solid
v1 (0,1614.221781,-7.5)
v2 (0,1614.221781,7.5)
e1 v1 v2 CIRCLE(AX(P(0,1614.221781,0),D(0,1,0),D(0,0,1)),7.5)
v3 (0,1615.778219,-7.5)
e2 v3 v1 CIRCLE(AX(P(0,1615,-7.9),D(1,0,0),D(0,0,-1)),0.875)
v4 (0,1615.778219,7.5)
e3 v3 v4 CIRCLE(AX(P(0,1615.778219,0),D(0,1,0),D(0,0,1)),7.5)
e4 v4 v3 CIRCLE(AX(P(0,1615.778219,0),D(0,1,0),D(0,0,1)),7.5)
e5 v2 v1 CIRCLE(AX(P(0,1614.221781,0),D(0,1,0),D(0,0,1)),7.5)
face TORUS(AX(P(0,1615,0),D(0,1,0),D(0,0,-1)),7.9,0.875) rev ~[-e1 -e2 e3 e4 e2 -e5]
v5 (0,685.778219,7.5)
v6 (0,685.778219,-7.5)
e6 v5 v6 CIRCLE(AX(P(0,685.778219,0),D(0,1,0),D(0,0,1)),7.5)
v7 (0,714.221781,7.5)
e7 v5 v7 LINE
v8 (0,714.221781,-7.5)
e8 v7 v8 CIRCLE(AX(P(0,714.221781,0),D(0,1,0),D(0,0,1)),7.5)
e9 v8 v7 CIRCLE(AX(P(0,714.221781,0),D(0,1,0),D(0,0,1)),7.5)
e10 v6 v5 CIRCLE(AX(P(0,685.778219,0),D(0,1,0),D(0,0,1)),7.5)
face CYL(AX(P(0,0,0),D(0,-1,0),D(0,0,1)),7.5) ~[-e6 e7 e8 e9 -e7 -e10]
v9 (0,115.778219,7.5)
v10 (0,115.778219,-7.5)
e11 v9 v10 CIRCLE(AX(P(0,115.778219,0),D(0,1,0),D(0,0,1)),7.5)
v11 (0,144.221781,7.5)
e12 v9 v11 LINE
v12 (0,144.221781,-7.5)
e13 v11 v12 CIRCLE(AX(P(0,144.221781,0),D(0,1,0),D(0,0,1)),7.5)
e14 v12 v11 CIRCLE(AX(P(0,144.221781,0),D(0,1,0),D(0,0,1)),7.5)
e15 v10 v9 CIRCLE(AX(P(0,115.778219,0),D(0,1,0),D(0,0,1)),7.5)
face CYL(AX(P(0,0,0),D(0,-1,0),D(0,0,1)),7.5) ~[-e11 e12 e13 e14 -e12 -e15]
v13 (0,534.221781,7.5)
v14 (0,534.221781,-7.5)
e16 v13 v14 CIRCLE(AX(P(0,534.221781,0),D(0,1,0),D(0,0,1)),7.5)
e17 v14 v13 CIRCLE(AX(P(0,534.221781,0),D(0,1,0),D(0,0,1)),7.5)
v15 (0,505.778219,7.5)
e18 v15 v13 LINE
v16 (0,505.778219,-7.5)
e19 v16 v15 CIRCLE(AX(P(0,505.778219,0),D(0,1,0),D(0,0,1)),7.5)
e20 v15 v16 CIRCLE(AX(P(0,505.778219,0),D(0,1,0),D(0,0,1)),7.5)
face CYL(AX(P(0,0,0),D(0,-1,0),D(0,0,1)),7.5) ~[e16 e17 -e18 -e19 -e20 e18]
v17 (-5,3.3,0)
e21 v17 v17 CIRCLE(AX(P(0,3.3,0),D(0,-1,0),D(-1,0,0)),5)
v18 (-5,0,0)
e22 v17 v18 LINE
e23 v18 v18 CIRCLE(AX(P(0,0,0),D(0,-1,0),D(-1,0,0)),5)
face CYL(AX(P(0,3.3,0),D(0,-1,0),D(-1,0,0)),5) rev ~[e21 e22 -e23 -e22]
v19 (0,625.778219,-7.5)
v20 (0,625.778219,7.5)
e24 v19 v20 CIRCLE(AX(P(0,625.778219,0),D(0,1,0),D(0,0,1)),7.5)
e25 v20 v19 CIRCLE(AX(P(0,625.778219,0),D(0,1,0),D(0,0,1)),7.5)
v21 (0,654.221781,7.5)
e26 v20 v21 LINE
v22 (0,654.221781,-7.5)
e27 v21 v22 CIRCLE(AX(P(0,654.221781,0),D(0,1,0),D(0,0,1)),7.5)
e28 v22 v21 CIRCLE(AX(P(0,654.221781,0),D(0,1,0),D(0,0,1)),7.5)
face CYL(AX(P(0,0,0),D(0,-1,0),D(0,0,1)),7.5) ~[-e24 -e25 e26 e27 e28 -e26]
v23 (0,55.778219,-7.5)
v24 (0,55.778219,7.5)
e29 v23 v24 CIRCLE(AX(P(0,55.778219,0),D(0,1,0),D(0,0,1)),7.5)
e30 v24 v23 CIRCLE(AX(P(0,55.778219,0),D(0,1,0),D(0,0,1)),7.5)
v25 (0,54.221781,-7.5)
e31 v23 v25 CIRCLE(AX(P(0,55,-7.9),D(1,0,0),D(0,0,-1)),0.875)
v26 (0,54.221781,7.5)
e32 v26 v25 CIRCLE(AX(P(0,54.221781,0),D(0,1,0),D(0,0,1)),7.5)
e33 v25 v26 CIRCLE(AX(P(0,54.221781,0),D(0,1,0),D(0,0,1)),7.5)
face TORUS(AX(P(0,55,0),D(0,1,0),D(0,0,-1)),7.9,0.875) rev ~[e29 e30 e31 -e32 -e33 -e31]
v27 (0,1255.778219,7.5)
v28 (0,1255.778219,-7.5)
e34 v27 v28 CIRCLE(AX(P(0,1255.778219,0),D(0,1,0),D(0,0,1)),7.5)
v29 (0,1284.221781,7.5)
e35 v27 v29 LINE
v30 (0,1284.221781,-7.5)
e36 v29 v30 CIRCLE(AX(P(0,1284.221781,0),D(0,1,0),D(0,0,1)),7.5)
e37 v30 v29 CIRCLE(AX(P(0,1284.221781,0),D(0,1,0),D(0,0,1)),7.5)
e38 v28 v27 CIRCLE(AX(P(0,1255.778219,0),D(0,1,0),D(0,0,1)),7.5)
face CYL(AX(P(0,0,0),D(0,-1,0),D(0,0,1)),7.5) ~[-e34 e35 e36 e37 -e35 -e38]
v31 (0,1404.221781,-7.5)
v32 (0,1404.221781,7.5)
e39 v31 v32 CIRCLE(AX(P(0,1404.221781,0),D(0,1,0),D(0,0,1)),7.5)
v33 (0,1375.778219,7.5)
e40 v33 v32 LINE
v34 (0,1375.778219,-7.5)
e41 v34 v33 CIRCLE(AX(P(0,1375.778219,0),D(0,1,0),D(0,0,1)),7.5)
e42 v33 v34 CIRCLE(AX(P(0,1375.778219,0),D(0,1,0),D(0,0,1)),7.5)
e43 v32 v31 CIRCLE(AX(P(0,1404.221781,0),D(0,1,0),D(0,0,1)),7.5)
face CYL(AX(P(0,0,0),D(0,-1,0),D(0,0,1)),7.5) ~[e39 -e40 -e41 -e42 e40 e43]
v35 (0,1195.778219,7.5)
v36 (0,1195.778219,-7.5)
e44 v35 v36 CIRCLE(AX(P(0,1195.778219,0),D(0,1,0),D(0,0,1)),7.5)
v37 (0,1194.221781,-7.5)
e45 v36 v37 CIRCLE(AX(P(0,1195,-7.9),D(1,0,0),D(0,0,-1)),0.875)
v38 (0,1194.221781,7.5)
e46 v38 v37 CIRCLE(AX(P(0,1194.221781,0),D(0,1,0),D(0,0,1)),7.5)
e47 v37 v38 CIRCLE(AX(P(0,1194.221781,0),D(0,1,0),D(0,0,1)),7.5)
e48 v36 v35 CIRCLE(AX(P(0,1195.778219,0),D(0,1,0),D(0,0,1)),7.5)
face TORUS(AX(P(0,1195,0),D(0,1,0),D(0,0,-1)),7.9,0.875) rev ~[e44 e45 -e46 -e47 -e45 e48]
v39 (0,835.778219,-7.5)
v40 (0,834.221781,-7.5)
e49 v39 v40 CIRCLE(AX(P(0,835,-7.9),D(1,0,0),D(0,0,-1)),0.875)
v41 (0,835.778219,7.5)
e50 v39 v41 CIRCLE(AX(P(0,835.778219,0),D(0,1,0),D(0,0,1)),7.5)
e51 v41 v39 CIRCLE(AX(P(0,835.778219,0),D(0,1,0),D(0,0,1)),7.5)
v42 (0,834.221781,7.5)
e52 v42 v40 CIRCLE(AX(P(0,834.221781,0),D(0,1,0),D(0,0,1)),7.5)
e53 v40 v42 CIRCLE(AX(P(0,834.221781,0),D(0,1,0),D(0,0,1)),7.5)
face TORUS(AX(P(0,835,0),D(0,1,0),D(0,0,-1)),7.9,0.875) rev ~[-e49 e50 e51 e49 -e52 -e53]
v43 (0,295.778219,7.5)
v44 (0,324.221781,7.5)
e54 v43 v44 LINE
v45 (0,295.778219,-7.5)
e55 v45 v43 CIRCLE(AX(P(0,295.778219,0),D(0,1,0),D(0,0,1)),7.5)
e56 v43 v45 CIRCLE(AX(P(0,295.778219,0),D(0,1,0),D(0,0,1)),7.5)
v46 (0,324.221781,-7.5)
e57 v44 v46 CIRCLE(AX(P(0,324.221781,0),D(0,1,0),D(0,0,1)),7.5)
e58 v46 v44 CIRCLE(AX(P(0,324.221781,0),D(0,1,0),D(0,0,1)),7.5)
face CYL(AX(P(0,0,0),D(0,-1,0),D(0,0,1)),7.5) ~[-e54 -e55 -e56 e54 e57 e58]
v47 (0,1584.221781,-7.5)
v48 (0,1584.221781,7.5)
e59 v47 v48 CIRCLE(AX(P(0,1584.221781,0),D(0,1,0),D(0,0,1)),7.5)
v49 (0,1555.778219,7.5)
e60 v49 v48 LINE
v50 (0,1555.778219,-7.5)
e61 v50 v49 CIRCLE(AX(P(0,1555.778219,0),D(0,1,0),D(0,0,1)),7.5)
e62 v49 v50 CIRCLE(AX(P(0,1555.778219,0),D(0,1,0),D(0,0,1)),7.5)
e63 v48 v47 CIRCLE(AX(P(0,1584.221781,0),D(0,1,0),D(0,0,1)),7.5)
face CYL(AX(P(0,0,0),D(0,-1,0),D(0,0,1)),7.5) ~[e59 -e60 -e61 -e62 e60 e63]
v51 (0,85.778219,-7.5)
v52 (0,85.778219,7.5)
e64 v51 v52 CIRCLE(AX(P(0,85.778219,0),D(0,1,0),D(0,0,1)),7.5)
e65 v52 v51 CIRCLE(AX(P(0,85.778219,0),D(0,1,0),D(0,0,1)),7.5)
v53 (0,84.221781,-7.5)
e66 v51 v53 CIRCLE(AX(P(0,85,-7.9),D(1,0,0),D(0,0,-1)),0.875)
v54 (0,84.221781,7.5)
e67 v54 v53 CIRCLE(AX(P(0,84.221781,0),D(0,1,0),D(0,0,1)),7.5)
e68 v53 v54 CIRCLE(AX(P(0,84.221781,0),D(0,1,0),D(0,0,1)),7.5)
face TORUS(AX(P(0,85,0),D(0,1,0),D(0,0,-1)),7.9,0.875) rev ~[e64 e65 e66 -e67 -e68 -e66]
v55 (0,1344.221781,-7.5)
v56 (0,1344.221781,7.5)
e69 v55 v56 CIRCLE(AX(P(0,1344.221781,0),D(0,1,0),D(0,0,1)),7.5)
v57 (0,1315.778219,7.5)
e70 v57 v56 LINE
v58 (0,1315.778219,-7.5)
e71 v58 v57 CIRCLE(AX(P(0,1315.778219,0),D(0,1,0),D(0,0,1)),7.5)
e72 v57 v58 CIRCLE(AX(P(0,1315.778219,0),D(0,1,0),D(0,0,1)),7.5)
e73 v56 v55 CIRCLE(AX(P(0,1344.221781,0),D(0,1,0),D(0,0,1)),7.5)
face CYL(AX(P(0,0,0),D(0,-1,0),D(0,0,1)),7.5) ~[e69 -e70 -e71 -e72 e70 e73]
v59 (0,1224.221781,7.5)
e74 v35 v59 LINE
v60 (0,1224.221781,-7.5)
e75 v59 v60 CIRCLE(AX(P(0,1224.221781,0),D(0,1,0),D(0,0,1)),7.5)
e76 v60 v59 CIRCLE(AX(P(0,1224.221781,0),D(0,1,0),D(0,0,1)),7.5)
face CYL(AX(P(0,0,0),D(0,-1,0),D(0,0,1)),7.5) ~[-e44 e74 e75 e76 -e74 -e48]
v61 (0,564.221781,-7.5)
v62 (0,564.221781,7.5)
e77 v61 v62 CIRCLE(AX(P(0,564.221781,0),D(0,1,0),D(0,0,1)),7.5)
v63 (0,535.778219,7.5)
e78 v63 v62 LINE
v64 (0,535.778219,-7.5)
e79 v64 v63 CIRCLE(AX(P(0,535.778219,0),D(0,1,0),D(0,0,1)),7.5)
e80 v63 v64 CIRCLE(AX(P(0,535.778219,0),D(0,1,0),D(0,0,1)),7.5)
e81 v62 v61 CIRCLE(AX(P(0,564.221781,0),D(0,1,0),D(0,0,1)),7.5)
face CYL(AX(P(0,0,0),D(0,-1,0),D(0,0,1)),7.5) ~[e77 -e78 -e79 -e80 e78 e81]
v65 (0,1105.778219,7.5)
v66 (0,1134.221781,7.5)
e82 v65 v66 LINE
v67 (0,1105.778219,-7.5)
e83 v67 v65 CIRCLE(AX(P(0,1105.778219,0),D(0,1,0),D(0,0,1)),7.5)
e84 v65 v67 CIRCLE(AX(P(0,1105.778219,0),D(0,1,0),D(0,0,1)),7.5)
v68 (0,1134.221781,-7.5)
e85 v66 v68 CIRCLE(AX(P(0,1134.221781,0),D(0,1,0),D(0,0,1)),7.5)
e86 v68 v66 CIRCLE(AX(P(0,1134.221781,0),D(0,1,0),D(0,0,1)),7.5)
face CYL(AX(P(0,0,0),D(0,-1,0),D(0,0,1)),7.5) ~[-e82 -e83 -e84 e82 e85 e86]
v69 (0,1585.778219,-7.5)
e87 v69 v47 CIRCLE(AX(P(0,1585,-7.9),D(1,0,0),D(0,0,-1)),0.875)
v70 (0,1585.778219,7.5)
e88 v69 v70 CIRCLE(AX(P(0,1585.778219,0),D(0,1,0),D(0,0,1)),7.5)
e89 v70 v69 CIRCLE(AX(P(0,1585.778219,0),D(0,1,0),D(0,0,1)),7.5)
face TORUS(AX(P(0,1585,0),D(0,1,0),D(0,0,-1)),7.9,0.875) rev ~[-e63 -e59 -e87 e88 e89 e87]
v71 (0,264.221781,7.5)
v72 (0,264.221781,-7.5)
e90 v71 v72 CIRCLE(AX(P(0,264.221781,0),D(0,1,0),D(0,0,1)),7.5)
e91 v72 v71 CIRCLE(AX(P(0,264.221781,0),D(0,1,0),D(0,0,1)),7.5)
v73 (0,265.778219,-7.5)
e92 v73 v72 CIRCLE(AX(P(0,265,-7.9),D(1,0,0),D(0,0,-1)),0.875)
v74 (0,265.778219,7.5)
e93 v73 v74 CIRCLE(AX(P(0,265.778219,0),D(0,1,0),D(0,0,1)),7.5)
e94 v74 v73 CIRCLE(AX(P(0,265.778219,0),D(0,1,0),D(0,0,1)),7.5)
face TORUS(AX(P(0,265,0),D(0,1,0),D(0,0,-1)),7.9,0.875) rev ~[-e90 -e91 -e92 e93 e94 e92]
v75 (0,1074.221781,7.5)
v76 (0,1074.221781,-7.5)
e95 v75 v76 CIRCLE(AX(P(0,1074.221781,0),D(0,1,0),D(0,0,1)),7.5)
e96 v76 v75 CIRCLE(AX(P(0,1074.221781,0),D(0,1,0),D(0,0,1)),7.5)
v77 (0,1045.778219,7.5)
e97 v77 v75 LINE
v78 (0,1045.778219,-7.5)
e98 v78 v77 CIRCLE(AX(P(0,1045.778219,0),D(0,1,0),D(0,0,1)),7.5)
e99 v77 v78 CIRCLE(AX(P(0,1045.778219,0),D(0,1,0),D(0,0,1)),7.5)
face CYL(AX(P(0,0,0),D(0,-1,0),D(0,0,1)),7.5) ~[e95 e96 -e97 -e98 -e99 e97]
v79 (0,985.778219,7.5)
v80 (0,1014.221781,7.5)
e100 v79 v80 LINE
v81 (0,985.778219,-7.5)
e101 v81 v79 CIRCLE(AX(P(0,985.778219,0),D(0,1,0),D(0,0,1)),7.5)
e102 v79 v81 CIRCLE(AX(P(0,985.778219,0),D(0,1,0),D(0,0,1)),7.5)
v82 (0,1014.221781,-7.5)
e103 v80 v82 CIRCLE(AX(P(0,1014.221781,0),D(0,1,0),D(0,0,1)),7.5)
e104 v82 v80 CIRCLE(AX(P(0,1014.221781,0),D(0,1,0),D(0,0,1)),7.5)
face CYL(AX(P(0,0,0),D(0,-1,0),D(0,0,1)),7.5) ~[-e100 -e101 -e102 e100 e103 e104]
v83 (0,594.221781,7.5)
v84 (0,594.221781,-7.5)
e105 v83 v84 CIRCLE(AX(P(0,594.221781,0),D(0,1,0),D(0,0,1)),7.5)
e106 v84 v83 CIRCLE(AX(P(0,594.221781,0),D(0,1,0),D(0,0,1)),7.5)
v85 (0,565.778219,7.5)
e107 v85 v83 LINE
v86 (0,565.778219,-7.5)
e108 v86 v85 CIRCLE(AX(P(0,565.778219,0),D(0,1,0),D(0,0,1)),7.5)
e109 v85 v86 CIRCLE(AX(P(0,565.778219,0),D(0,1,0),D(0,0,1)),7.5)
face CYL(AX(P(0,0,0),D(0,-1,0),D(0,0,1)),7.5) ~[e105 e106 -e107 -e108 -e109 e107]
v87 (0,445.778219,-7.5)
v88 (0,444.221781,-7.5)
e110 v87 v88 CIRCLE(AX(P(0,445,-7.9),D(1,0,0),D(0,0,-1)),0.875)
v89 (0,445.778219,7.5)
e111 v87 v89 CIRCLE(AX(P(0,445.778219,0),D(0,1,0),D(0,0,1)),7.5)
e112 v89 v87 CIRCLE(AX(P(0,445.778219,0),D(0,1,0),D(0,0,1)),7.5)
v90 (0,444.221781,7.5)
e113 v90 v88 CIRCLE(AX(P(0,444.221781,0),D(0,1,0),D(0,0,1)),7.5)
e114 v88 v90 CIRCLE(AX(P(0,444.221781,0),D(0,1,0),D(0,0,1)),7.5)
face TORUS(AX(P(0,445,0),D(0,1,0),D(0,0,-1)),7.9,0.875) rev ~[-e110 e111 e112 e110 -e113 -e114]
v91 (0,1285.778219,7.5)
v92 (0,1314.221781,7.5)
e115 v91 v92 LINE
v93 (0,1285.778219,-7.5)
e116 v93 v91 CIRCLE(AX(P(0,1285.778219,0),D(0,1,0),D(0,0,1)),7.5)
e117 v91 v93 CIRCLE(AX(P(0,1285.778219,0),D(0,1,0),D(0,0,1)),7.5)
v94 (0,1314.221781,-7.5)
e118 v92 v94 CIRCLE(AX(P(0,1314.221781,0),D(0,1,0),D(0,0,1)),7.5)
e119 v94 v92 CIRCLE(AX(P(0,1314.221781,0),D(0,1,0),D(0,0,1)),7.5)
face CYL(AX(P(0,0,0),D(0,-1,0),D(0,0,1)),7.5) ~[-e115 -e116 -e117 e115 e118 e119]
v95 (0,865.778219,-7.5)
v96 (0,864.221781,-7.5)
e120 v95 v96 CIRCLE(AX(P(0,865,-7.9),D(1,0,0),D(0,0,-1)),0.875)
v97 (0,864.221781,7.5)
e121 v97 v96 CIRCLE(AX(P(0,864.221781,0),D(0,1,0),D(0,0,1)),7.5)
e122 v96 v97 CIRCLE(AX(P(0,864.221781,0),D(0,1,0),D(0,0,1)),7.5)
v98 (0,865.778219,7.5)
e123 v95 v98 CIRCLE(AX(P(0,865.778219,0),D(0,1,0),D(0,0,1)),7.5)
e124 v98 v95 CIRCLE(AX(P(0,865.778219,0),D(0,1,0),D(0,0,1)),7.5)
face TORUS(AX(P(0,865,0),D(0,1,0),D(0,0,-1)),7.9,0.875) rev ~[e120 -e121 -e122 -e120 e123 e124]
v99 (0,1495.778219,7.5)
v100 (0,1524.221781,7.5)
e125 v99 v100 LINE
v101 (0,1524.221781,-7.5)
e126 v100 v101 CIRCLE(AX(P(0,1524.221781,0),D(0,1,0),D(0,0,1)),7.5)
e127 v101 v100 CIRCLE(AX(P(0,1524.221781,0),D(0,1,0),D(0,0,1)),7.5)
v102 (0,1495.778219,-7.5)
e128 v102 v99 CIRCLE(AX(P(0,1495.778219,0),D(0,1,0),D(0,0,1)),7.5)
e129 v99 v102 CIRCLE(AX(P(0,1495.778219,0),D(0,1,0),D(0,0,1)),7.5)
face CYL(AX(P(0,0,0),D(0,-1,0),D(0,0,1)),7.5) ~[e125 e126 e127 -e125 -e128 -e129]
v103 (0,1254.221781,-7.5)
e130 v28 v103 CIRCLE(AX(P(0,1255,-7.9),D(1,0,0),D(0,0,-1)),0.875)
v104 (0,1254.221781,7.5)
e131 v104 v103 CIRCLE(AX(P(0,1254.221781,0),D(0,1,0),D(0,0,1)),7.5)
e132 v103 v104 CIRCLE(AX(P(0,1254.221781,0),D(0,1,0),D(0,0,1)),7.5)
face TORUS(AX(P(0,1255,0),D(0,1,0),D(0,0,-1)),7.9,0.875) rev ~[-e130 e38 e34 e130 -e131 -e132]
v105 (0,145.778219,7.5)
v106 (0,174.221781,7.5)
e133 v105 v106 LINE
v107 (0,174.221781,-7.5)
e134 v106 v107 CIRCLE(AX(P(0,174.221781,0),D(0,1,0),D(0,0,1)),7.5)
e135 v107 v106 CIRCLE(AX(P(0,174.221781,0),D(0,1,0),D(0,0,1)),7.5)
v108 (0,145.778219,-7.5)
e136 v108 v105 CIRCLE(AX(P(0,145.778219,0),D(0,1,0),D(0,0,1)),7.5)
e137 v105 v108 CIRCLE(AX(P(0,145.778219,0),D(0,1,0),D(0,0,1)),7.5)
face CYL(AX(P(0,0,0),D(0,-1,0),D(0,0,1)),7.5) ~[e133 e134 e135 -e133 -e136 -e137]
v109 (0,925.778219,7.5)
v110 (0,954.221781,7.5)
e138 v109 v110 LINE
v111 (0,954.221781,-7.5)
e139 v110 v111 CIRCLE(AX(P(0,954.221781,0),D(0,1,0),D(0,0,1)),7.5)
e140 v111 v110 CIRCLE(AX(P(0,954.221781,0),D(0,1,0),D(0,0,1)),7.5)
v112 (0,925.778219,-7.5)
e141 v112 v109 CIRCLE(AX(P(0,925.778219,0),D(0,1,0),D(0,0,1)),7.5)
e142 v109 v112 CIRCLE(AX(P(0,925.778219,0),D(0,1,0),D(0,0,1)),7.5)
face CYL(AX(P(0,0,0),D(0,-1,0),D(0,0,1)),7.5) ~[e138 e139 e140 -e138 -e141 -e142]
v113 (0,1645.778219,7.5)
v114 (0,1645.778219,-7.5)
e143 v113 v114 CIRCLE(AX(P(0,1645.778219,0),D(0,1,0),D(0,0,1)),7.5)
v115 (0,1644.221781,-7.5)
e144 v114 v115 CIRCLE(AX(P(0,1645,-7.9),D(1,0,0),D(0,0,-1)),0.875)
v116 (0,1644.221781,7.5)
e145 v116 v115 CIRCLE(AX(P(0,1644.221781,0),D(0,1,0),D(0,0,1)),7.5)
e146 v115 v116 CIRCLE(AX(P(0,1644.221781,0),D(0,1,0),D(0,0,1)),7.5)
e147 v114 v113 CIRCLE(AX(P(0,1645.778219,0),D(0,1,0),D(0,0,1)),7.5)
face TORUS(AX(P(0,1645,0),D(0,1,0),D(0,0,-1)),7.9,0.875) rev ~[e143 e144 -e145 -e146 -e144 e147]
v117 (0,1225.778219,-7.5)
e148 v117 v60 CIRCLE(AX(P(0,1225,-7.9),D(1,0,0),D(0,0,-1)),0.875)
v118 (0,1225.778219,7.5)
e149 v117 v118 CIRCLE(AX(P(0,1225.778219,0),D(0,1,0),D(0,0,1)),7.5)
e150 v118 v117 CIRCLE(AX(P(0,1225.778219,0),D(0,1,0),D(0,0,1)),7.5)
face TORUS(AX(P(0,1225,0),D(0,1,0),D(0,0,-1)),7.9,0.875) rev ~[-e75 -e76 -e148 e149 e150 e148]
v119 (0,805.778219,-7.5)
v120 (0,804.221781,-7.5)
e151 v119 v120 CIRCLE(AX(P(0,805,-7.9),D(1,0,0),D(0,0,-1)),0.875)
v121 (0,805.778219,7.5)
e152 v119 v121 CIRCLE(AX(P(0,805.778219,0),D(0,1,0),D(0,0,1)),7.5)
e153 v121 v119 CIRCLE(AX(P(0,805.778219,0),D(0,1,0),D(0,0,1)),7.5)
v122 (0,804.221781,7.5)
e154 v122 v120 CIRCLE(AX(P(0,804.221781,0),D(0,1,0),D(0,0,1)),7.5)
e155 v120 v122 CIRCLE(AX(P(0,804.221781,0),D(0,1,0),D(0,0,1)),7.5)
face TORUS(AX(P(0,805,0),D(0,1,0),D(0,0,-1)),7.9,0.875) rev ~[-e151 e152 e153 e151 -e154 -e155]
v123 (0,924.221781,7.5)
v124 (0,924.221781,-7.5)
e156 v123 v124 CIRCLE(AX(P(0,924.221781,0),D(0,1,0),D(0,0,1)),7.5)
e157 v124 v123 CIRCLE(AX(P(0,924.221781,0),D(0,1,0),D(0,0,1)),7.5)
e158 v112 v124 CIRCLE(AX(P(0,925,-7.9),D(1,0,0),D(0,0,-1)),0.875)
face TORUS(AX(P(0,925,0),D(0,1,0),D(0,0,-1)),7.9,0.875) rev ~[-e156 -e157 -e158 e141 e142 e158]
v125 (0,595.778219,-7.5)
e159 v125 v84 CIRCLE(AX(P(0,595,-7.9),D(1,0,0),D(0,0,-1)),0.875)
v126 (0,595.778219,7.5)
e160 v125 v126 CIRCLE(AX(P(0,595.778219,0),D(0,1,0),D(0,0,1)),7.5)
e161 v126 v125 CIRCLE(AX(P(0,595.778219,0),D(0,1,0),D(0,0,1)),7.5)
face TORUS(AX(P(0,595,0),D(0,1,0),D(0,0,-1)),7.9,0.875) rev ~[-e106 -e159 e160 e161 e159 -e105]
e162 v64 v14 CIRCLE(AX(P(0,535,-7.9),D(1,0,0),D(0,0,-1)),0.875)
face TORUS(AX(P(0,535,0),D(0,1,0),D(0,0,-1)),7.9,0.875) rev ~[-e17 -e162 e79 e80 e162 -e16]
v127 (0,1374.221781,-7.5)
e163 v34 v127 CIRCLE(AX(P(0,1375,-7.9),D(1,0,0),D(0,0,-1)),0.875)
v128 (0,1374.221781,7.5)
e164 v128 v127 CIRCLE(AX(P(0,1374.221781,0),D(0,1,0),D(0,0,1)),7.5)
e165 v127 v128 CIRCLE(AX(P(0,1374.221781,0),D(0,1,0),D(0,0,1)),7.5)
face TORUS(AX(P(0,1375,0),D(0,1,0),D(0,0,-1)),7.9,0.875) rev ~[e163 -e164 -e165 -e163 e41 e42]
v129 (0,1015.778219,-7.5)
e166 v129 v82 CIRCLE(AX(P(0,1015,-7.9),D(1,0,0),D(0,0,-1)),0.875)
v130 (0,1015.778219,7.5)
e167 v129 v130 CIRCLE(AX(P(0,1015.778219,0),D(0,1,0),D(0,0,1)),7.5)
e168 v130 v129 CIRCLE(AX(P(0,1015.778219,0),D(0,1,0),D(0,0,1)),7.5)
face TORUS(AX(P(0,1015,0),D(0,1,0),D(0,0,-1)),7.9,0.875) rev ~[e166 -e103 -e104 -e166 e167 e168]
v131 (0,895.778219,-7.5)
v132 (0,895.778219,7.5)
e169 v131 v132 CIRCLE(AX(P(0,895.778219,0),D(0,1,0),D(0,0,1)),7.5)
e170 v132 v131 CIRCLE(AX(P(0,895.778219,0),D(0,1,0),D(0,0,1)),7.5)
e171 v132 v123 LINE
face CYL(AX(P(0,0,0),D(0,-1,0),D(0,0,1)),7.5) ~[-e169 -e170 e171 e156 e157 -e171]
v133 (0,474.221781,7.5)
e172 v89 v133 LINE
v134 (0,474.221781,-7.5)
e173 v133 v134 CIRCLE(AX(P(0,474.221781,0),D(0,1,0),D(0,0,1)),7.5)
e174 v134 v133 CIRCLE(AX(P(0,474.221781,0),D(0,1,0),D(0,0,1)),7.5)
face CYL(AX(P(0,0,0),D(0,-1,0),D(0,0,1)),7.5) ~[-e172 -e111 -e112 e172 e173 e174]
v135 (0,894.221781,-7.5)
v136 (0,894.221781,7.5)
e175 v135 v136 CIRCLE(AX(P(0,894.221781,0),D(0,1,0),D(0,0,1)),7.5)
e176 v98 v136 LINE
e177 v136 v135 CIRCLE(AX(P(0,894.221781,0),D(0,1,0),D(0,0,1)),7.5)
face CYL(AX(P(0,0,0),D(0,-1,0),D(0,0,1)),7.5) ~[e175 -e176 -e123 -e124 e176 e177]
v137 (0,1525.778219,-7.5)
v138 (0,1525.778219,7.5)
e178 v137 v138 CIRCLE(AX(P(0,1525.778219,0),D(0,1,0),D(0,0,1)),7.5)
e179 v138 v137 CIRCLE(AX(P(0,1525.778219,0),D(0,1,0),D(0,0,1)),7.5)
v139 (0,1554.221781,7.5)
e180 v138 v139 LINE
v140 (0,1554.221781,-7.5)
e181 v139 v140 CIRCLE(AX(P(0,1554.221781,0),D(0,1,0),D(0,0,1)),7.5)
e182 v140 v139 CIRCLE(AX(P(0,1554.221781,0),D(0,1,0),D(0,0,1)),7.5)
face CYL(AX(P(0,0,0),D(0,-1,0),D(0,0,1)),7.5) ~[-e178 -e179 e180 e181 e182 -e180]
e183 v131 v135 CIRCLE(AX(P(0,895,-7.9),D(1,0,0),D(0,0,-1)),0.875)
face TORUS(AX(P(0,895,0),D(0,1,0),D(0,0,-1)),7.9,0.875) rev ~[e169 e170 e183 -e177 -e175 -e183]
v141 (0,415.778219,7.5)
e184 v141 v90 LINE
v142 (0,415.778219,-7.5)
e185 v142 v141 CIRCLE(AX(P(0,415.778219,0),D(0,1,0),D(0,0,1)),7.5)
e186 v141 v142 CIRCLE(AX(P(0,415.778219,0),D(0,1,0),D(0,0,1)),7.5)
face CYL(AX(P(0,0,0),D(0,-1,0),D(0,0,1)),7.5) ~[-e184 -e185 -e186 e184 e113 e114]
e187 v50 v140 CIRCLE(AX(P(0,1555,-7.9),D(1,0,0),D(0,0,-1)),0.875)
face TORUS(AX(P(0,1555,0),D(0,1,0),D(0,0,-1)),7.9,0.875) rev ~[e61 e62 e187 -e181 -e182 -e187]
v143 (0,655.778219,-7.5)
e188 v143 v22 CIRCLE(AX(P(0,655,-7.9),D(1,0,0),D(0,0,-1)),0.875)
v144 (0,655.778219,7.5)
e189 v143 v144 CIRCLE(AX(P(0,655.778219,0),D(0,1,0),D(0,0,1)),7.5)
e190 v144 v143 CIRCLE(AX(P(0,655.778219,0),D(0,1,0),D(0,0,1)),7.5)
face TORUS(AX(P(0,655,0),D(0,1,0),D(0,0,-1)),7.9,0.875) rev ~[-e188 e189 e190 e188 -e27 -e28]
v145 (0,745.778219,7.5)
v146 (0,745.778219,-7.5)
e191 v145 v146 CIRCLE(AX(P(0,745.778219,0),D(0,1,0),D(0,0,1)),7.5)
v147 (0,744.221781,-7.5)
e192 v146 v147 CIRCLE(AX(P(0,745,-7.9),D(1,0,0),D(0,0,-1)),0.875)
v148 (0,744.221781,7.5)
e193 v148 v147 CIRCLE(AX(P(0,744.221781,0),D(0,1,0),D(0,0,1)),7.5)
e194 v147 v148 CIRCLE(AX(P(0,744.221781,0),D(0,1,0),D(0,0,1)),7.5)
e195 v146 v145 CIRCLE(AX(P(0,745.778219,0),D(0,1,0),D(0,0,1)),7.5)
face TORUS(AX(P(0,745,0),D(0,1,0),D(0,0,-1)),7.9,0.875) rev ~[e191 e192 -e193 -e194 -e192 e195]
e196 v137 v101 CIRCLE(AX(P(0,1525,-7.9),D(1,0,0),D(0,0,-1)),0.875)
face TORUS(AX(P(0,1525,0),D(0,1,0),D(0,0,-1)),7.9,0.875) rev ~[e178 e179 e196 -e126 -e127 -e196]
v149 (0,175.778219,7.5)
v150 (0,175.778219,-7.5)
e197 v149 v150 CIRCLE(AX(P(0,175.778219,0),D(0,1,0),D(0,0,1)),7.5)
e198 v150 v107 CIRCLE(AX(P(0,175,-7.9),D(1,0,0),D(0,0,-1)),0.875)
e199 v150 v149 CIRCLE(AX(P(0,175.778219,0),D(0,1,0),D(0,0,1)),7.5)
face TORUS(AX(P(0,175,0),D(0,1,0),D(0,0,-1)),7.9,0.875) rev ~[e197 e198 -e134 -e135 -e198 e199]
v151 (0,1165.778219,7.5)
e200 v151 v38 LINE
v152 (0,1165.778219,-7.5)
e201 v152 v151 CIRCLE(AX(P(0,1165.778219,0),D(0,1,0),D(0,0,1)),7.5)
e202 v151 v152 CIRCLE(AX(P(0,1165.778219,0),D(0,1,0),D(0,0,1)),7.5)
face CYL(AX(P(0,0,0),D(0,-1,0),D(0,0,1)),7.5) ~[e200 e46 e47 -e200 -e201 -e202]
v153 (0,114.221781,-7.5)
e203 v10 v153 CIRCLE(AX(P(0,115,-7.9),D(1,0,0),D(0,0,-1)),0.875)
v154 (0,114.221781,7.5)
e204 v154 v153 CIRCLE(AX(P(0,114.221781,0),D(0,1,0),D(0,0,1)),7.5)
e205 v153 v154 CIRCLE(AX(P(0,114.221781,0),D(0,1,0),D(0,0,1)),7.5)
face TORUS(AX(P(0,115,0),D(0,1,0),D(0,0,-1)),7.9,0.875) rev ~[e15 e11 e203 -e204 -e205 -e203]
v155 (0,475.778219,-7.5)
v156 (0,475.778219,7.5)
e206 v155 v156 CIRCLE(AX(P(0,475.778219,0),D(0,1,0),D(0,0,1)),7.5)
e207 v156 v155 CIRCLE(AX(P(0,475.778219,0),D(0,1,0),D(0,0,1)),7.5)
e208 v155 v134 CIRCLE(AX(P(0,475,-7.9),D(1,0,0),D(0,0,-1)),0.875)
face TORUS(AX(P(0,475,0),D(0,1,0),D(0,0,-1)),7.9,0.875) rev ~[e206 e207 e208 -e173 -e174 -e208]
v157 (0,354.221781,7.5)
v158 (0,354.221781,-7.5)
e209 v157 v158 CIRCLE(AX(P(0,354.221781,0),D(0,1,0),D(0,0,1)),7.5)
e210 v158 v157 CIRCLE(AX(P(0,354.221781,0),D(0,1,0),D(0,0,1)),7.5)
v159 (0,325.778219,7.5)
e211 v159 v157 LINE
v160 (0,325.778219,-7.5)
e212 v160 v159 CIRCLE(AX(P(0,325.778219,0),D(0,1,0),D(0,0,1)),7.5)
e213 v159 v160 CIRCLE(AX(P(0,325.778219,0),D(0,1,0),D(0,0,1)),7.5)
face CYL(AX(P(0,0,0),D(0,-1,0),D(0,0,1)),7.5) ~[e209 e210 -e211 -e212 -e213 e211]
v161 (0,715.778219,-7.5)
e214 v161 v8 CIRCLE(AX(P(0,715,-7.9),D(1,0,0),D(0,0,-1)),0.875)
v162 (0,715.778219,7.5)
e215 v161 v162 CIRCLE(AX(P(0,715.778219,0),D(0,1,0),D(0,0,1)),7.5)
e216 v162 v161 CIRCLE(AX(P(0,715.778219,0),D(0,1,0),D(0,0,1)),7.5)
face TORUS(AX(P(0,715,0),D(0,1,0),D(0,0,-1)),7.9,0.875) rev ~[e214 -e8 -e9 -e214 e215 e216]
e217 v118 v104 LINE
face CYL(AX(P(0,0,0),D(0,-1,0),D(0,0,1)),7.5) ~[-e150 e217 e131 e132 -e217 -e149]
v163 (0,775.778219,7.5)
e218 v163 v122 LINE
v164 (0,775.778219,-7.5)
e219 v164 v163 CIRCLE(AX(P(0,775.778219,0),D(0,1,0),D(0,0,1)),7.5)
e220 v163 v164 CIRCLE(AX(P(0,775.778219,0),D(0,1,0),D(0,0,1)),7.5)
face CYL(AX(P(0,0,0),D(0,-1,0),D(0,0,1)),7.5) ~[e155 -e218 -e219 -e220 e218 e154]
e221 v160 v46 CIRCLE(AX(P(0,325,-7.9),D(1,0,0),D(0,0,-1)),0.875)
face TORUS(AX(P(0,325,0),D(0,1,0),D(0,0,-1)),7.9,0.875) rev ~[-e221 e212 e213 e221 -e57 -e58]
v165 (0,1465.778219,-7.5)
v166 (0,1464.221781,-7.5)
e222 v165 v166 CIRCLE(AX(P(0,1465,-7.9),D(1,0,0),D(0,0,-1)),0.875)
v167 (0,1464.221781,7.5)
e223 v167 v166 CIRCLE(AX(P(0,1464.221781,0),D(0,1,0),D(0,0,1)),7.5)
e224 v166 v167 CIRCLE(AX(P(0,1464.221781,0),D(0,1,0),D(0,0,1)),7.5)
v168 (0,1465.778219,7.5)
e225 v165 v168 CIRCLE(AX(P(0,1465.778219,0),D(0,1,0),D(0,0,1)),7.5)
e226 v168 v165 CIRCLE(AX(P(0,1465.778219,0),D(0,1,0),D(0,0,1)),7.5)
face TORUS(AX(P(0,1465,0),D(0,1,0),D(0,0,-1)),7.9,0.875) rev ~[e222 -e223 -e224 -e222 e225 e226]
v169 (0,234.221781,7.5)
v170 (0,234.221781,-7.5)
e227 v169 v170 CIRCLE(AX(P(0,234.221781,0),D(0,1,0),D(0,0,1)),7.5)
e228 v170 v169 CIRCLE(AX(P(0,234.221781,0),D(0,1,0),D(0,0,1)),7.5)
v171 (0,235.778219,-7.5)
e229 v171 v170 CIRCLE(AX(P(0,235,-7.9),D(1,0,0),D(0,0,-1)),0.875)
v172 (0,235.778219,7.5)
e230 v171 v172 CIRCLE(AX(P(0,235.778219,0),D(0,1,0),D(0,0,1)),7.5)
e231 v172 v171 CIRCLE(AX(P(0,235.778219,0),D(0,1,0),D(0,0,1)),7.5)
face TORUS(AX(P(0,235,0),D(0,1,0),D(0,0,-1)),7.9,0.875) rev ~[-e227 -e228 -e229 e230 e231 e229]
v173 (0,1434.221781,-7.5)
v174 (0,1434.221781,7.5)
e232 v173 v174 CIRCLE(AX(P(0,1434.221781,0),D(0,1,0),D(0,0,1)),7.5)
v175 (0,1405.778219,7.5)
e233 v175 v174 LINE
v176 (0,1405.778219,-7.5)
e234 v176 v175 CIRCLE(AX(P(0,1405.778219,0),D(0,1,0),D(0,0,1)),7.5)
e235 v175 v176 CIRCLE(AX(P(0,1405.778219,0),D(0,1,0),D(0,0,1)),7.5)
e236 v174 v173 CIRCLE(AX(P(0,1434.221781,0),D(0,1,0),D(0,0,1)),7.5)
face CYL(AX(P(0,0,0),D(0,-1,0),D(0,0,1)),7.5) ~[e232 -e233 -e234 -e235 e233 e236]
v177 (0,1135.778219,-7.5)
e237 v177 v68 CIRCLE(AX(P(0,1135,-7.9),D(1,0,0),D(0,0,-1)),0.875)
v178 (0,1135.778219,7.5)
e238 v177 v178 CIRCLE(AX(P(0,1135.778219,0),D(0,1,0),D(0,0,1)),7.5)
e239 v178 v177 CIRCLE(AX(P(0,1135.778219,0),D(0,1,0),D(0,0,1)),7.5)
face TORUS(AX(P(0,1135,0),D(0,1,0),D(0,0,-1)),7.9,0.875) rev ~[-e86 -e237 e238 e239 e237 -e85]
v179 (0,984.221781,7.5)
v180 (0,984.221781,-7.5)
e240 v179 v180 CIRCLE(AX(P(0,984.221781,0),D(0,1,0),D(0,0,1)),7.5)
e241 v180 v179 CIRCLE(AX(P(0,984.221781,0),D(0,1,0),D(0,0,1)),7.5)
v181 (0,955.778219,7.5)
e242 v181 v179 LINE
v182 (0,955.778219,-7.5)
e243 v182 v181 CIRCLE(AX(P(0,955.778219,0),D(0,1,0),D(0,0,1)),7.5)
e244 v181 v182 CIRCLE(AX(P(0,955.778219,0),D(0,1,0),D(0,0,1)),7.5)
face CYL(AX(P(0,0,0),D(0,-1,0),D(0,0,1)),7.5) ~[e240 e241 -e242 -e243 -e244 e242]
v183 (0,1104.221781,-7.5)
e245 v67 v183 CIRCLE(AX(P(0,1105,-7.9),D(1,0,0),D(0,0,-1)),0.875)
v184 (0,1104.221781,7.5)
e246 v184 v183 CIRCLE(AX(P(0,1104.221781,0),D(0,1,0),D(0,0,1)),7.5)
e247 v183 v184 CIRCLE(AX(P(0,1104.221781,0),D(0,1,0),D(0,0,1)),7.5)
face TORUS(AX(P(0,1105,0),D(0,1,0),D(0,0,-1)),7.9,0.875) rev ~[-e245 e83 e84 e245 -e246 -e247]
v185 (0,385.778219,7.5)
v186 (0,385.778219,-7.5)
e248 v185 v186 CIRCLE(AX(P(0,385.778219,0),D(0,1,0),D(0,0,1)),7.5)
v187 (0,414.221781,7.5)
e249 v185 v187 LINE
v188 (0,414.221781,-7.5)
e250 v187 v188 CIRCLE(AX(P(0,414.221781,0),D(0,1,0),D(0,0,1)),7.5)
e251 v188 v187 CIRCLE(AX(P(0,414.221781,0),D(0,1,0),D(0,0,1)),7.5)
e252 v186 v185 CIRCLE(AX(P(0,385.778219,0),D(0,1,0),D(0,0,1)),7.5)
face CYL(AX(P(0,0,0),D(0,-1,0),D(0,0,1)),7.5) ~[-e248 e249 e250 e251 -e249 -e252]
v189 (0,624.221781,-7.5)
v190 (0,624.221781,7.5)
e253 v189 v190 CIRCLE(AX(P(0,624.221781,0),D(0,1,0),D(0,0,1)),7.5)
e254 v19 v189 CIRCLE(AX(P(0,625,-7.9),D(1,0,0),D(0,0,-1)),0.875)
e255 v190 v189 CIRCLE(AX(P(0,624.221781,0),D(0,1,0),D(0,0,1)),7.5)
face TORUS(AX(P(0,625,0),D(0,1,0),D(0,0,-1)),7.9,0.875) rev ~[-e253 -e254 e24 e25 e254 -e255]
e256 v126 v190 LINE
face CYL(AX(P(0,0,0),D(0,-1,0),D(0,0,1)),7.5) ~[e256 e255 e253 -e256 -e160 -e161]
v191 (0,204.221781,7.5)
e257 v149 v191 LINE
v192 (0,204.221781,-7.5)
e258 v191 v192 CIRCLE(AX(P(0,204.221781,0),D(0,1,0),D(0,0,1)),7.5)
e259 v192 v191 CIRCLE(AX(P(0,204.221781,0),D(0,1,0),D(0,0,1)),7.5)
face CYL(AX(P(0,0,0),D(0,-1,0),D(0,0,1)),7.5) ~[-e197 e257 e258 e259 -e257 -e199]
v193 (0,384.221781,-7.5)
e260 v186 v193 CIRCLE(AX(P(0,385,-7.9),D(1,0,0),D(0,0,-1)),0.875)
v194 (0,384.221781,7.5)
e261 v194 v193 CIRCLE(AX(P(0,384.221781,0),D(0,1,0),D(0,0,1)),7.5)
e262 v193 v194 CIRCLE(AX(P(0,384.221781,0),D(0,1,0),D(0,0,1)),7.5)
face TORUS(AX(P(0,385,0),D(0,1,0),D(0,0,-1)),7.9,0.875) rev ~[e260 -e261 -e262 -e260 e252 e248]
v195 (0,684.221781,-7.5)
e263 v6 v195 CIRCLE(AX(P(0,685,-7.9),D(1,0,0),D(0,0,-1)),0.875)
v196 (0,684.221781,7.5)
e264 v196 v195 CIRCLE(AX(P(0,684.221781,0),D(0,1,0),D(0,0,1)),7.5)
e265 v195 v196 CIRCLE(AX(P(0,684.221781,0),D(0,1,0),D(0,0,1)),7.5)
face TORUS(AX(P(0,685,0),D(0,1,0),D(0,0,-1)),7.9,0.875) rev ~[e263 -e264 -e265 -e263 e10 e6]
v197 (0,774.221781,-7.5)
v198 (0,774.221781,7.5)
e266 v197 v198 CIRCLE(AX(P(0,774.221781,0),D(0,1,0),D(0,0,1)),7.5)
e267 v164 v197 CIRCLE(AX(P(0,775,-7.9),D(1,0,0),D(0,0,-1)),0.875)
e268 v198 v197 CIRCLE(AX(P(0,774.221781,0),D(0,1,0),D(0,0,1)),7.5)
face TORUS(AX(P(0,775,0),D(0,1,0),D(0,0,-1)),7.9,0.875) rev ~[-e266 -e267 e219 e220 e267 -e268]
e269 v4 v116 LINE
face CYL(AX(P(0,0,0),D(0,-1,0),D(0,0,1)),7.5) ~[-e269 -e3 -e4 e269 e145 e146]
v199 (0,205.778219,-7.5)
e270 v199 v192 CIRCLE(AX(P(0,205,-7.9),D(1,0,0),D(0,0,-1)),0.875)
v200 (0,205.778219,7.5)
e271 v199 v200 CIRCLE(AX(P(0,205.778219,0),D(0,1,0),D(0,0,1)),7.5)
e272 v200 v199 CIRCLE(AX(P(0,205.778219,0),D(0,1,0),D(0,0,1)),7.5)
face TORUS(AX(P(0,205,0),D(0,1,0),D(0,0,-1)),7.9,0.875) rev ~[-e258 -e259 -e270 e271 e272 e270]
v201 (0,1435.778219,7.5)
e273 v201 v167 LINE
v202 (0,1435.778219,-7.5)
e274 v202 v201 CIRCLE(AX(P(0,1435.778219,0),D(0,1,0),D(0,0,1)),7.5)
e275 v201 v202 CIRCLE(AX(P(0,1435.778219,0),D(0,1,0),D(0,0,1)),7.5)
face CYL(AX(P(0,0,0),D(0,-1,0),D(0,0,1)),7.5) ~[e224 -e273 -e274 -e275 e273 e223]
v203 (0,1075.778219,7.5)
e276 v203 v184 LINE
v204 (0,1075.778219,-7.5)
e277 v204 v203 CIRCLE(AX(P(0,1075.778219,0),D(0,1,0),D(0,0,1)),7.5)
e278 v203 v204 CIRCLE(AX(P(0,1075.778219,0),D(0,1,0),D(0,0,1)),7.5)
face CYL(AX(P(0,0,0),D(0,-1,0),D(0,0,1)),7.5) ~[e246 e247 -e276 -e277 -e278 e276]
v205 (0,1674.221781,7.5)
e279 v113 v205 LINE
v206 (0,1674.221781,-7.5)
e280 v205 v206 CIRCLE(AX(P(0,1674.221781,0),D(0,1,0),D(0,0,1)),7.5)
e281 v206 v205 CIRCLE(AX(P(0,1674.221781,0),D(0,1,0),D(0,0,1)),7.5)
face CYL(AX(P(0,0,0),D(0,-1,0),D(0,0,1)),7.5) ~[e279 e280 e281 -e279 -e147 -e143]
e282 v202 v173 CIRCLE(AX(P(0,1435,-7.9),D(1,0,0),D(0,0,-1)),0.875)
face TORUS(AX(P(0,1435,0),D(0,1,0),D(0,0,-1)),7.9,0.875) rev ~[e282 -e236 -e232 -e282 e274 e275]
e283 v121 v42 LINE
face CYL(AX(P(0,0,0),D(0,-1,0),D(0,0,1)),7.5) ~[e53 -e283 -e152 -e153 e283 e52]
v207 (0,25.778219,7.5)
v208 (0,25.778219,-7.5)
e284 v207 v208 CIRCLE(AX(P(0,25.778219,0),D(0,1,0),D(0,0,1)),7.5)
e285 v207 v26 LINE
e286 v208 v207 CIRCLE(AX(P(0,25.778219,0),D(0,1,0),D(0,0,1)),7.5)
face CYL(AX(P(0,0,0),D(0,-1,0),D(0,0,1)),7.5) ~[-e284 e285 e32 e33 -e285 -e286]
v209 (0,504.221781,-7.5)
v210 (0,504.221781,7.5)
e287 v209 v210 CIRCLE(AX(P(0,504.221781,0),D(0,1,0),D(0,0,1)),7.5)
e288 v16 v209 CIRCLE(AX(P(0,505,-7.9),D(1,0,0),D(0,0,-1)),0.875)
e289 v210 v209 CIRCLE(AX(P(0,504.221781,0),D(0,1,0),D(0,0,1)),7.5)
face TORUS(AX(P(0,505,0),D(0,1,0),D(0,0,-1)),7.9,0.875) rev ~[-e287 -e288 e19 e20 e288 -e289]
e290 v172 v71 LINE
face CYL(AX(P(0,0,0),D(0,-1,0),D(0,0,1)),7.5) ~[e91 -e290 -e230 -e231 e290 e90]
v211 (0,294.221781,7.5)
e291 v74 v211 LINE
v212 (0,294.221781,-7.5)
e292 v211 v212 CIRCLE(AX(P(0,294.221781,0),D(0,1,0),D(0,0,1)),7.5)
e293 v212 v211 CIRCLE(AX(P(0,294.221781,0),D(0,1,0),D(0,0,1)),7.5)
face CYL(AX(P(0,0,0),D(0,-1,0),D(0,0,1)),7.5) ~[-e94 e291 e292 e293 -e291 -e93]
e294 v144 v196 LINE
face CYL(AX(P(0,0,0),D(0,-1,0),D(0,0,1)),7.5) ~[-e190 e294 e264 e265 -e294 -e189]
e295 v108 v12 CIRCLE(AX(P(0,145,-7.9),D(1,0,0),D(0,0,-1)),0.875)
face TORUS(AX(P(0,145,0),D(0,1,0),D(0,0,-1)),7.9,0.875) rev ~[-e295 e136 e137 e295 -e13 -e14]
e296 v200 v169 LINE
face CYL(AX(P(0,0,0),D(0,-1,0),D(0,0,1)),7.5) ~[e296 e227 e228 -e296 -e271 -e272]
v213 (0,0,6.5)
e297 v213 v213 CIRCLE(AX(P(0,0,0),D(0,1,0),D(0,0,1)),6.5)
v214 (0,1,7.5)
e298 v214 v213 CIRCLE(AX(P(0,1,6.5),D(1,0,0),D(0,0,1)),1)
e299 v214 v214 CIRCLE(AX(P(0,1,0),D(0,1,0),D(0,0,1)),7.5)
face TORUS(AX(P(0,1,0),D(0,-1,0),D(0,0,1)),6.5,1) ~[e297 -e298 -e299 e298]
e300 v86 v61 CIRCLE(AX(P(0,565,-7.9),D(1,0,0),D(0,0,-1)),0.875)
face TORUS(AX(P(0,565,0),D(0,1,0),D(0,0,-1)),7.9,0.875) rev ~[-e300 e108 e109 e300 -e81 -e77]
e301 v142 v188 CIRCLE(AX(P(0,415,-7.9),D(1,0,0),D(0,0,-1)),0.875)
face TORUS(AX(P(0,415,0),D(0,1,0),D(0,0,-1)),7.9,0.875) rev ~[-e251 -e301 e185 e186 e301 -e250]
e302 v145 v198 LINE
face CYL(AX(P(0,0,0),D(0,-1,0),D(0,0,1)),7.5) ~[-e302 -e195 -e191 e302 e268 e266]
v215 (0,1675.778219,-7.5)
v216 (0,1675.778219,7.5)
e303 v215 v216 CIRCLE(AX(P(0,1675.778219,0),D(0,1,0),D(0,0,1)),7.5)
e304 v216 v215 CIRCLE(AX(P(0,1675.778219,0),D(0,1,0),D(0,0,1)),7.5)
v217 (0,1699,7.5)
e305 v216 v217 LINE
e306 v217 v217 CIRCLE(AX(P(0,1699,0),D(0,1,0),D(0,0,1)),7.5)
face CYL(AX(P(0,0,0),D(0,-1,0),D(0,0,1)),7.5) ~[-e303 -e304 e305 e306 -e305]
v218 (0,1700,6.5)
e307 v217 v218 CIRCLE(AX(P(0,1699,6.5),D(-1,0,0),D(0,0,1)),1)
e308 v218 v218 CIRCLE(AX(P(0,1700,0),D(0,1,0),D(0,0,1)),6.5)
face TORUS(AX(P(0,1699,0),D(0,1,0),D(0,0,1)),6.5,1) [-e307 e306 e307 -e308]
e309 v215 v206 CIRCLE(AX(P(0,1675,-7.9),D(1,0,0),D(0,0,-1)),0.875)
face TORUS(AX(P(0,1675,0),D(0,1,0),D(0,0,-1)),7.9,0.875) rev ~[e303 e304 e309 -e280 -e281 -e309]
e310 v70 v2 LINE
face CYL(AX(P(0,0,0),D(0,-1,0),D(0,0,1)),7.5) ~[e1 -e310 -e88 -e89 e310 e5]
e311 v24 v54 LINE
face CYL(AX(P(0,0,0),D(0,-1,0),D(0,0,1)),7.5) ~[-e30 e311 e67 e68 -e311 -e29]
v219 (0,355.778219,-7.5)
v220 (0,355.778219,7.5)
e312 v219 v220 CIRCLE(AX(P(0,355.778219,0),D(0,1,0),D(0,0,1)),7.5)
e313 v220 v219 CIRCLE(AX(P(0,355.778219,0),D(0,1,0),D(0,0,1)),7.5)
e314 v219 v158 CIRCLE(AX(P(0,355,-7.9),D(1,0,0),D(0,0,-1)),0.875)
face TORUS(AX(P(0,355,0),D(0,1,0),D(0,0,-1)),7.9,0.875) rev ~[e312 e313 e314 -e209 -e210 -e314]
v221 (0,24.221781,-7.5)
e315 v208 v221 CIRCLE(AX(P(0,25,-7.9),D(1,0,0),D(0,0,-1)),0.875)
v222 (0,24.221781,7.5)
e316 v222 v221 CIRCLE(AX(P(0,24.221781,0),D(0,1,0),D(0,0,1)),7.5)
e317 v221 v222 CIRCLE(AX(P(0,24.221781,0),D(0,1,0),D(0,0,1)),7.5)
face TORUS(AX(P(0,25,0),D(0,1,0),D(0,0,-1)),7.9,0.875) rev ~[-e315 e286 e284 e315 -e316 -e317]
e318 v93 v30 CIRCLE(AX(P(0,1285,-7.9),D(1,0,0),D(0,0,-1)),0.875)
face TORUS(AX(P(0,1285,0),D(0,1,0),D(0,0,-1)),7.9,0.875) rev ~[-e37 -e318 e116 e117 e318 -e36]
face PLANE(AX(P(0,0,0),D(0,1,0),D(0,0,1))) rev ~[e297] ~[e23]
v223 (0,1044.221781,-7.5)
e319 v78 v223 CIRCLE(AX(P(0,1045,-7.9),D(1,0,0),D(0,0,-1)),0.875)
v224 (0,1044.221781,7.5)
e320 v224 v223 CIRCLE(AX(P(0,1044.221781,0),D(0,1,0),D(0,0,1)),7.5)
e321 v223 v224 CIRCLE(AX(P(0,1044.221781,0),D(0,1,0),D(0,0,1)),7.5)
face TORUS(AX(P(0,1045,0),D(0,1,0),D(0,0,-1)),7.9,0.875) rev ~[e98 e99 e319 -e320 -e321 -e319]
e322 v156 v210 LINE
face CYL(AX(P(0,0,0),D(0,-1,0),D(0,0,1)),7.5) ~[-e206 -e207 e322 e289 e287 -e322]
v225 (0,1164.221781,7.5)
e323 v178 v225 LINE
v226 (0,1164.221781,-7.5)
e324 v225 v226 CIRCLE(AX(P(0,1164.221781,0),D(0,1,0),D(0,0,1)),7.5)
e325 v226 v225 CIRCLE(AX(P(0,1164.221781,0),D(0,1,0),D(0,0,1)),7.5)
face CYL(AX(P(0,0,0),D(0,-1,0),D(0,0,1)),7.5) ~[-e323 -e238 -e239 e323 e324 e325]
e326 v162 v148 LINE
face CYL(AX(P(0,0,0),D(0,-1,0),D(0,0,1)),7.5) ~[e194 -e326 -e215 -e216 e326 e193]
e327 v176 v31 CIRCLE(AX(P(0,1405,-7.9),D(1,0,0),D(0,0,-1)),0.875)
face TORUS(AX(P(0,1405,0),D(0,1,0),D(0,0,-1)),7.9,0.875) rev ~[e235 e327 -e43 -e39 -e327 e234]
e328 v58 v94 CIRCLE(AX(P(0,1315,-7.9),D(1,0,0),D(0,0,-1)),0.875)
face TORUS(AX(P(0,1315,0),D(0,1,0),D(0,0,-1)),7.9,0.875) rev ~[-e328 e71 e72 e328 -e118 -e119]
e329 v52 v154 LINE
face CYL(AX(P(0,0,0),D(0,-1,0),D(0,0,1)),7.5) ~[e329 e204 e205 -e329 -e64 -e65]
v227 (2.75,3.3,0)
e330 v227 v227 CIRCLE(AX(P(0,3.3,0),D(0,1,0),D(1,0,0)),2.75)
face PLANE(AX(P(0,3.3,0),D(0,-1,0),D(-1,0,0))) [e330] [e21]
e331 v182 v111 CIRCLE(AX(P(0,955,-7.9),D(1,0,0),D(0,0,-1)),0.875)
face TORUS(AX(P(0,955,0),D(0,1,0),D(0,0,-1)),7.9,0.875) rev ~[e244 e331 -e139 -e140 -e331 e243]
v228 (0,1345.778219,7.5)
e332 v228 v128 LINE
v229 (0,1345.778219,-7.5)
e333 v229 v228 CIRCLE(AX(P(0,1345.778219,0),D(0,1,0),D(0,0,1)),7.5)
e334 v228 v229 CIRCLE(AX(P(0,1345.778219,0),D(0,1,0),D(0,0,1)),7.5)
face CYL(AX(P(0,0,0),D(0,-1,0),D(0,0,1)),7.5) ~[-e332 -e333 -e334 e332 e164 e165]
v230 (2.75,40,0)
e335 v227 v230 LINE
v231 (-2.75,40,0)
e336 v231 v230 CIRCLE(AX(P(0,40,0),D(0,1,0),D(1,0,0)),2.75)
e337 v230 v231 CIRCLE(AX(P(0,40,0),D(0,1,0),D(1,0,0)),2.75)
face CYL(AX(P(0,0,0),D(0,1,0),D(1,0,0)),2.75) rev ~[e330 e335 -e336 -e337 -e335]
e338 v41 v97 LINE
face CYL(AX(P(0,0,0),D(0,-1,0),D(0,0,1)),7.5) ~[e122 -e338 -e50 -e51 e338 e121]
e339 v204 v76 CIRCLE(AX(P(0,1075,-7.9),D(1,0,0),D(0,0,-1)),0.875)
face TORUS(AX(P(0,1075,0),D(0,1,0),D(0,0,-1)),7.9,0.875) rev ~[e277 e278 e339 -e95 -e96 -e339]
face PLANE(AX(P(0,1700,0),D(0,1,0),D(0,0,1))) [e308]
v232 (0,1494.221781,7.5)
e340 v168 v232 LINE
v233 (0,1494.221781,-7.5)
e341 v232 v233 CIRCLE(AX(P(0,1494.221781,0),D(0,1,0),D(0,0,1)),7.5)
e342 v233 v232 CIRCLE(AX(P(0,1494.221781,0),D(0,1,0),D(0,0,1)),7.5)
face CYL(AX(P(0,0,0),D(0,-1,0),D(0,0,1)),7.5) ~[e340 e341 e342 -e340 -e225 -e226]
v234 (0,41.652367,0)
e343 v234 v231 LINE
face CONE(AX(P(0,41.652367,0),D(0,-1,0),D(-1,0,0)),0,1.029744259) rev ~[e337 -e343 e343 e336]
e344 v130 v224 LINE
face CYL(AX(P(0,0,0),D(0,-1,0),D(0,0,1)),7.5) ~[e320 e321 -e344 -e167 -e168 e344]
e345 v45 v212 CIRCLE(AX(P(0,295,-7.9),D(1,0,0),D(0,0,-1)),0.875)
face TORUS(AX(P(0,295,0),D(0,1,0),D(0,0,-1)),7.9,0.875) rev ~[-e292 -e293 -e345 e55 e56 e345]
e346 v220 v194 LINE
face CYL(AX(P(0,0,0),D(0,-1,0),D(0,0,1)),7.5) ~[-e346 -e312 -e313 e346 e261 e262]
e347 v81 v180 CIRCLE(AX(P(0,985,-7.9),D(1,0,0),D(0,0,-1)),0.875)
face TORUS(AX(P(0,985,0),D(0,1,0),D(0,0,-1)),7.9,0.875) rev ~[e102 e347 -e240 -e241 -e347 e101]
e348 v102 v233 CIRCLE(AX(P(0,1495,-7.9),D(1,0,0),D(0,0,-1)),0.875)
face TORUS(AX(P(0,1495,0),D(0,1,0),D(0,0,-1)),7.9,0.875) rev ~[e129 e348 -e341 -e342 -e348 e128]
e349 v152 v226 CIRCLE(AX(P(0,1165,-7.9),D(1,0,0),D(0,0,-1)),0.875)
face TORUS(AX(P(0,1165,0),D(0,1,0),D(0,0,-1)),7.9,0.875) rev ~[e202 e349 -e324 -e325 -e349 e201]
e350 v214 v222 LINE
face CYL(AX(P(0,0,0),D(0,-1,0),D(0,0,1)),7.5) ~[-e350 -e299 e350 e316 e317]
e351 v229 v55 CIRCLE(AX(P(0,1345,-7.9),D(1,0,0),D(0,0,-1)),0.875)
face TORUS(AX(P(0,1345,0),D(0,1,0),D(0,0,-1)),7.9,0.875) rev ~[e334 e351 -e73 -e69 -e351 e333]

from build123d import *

# Parameters (mm, degrees)
CROQUIS1_R                                           = 7.5
SALIENTE_EXTRUIR1_DEPTH                              = 1700
CROQUIS2_R                                           = 0.875
MATRIZL1_COUNT                                       = 56
MATRIZL1_PITCH                                       = 30
REDONDEO1_R                                          = 1
REFRENTADO_PARA_TORNILLO_CON_CABEZA_PLAN_D           = 5.5
REFRENTADO_PARA_TORNILLO_CON_CABEZA_PLAN_DEPTH       = 40
REFRENTADO_PARA_TORNILLO_CON_CABEZA_PLAN_CBORE_D     = 10
REFRENTADO_PARA_TORNILLO_CON_CABEZA_PLAN_CBORE_DEPTH = 3.3
REFRENTADO_PARA_TORNILLO_CON_CABEZA_PLAN_TIP         = 1.652366702


with BuildPart() as part:
    # Croquis1 → Saliente-Extruir1 (new body)
    with BuildSketch(Plane(origin=(0, 0, 0), x_dir=(1, 0, 0), z_dir=(0, 1, 0))):
        with Locations(Location((0, 0, 0), (0, 0, 270))):
            Circle(CROQUIS1_R)
    extrude(amount=SALIENTE_EXTRUIR1_DEPTH)

    # Croquis2 → Cortar-Revolución1 (revolve, cut)
    with BuildSketch(Plane.XY, mode=Mode.PRIVATE) as cortar_revoluci_n1_sk:
        with Locations((7.9, 25)):
            Circle(CROQUIS2_R)
    cortar_revoluci_n1 = revolve(cortar_revoluci_n1_sk.sketch.rotate(Axis((0, 0, 0), (0, 1, 0)), 90), axis=Axis((0, 0, 0), (0, 1, 0)), mode=Mode.SUBTRACT)

    # MatrizL1: Cortar-Revolución1 ×56
    with Locations(*[(0, i * MATRIZL1_PITCH, 0) for i in range(1, MATRIZL1_COUNT)]):
        add(cortar_revoluci_n1, mode=Mode.SUBTRACT)

    # Redondeo1
    redondeo1_edges = [part.edges().sort_by_distance(p)[0] for p in [
        (0, 0, -7.5),
        (0, 1700, -7.5),
    ]]
    fillet(redondeo1_edges, radius=REDONDEO1_R)

    # Refrentado para tornillo con cabeza plana de M51
    with Locations(Plane(origin=(0, 0, 0), x_dir=(-1, 0, 0), z_dir=(0, -1, 0))):
        with Locations((0, 0)):
            CounterBoreHole(REFRENTADO_PARA_TORNILLO_CON_CABEZA_PLAN_D / 2, REFRENTADO_PARA_TORNILLO_CON_CABEZA_PLAN_CBORE_D / 2, REFRENTADO_PARA_TORNILLO_CON_CABEZA_PLAN_CBORE_DEPTH, depth=REFRENTADO_PARA_TORNILLO_CON_CABEZA_PLAN_DEPTH)
            with Locations((0, 0, -(REFRENTADO_PARA_TORNILLO_CON_CABEZA_PLAN_DEPTH + REFRENTADO_PARA_TORNILLO_CON_CABEZA_PLAN_TIP / 2))):  # 118° drill point
                Cone(0, REFRENTADO_PARA_TORNILLO_CON_CABEZA_PLAN_D / 2, REFRENTADO_PARA_TORNILLO_CON_CABEZA_PLAN_TIP, mode=Mode.SUBTRACT)


solid = part.part
